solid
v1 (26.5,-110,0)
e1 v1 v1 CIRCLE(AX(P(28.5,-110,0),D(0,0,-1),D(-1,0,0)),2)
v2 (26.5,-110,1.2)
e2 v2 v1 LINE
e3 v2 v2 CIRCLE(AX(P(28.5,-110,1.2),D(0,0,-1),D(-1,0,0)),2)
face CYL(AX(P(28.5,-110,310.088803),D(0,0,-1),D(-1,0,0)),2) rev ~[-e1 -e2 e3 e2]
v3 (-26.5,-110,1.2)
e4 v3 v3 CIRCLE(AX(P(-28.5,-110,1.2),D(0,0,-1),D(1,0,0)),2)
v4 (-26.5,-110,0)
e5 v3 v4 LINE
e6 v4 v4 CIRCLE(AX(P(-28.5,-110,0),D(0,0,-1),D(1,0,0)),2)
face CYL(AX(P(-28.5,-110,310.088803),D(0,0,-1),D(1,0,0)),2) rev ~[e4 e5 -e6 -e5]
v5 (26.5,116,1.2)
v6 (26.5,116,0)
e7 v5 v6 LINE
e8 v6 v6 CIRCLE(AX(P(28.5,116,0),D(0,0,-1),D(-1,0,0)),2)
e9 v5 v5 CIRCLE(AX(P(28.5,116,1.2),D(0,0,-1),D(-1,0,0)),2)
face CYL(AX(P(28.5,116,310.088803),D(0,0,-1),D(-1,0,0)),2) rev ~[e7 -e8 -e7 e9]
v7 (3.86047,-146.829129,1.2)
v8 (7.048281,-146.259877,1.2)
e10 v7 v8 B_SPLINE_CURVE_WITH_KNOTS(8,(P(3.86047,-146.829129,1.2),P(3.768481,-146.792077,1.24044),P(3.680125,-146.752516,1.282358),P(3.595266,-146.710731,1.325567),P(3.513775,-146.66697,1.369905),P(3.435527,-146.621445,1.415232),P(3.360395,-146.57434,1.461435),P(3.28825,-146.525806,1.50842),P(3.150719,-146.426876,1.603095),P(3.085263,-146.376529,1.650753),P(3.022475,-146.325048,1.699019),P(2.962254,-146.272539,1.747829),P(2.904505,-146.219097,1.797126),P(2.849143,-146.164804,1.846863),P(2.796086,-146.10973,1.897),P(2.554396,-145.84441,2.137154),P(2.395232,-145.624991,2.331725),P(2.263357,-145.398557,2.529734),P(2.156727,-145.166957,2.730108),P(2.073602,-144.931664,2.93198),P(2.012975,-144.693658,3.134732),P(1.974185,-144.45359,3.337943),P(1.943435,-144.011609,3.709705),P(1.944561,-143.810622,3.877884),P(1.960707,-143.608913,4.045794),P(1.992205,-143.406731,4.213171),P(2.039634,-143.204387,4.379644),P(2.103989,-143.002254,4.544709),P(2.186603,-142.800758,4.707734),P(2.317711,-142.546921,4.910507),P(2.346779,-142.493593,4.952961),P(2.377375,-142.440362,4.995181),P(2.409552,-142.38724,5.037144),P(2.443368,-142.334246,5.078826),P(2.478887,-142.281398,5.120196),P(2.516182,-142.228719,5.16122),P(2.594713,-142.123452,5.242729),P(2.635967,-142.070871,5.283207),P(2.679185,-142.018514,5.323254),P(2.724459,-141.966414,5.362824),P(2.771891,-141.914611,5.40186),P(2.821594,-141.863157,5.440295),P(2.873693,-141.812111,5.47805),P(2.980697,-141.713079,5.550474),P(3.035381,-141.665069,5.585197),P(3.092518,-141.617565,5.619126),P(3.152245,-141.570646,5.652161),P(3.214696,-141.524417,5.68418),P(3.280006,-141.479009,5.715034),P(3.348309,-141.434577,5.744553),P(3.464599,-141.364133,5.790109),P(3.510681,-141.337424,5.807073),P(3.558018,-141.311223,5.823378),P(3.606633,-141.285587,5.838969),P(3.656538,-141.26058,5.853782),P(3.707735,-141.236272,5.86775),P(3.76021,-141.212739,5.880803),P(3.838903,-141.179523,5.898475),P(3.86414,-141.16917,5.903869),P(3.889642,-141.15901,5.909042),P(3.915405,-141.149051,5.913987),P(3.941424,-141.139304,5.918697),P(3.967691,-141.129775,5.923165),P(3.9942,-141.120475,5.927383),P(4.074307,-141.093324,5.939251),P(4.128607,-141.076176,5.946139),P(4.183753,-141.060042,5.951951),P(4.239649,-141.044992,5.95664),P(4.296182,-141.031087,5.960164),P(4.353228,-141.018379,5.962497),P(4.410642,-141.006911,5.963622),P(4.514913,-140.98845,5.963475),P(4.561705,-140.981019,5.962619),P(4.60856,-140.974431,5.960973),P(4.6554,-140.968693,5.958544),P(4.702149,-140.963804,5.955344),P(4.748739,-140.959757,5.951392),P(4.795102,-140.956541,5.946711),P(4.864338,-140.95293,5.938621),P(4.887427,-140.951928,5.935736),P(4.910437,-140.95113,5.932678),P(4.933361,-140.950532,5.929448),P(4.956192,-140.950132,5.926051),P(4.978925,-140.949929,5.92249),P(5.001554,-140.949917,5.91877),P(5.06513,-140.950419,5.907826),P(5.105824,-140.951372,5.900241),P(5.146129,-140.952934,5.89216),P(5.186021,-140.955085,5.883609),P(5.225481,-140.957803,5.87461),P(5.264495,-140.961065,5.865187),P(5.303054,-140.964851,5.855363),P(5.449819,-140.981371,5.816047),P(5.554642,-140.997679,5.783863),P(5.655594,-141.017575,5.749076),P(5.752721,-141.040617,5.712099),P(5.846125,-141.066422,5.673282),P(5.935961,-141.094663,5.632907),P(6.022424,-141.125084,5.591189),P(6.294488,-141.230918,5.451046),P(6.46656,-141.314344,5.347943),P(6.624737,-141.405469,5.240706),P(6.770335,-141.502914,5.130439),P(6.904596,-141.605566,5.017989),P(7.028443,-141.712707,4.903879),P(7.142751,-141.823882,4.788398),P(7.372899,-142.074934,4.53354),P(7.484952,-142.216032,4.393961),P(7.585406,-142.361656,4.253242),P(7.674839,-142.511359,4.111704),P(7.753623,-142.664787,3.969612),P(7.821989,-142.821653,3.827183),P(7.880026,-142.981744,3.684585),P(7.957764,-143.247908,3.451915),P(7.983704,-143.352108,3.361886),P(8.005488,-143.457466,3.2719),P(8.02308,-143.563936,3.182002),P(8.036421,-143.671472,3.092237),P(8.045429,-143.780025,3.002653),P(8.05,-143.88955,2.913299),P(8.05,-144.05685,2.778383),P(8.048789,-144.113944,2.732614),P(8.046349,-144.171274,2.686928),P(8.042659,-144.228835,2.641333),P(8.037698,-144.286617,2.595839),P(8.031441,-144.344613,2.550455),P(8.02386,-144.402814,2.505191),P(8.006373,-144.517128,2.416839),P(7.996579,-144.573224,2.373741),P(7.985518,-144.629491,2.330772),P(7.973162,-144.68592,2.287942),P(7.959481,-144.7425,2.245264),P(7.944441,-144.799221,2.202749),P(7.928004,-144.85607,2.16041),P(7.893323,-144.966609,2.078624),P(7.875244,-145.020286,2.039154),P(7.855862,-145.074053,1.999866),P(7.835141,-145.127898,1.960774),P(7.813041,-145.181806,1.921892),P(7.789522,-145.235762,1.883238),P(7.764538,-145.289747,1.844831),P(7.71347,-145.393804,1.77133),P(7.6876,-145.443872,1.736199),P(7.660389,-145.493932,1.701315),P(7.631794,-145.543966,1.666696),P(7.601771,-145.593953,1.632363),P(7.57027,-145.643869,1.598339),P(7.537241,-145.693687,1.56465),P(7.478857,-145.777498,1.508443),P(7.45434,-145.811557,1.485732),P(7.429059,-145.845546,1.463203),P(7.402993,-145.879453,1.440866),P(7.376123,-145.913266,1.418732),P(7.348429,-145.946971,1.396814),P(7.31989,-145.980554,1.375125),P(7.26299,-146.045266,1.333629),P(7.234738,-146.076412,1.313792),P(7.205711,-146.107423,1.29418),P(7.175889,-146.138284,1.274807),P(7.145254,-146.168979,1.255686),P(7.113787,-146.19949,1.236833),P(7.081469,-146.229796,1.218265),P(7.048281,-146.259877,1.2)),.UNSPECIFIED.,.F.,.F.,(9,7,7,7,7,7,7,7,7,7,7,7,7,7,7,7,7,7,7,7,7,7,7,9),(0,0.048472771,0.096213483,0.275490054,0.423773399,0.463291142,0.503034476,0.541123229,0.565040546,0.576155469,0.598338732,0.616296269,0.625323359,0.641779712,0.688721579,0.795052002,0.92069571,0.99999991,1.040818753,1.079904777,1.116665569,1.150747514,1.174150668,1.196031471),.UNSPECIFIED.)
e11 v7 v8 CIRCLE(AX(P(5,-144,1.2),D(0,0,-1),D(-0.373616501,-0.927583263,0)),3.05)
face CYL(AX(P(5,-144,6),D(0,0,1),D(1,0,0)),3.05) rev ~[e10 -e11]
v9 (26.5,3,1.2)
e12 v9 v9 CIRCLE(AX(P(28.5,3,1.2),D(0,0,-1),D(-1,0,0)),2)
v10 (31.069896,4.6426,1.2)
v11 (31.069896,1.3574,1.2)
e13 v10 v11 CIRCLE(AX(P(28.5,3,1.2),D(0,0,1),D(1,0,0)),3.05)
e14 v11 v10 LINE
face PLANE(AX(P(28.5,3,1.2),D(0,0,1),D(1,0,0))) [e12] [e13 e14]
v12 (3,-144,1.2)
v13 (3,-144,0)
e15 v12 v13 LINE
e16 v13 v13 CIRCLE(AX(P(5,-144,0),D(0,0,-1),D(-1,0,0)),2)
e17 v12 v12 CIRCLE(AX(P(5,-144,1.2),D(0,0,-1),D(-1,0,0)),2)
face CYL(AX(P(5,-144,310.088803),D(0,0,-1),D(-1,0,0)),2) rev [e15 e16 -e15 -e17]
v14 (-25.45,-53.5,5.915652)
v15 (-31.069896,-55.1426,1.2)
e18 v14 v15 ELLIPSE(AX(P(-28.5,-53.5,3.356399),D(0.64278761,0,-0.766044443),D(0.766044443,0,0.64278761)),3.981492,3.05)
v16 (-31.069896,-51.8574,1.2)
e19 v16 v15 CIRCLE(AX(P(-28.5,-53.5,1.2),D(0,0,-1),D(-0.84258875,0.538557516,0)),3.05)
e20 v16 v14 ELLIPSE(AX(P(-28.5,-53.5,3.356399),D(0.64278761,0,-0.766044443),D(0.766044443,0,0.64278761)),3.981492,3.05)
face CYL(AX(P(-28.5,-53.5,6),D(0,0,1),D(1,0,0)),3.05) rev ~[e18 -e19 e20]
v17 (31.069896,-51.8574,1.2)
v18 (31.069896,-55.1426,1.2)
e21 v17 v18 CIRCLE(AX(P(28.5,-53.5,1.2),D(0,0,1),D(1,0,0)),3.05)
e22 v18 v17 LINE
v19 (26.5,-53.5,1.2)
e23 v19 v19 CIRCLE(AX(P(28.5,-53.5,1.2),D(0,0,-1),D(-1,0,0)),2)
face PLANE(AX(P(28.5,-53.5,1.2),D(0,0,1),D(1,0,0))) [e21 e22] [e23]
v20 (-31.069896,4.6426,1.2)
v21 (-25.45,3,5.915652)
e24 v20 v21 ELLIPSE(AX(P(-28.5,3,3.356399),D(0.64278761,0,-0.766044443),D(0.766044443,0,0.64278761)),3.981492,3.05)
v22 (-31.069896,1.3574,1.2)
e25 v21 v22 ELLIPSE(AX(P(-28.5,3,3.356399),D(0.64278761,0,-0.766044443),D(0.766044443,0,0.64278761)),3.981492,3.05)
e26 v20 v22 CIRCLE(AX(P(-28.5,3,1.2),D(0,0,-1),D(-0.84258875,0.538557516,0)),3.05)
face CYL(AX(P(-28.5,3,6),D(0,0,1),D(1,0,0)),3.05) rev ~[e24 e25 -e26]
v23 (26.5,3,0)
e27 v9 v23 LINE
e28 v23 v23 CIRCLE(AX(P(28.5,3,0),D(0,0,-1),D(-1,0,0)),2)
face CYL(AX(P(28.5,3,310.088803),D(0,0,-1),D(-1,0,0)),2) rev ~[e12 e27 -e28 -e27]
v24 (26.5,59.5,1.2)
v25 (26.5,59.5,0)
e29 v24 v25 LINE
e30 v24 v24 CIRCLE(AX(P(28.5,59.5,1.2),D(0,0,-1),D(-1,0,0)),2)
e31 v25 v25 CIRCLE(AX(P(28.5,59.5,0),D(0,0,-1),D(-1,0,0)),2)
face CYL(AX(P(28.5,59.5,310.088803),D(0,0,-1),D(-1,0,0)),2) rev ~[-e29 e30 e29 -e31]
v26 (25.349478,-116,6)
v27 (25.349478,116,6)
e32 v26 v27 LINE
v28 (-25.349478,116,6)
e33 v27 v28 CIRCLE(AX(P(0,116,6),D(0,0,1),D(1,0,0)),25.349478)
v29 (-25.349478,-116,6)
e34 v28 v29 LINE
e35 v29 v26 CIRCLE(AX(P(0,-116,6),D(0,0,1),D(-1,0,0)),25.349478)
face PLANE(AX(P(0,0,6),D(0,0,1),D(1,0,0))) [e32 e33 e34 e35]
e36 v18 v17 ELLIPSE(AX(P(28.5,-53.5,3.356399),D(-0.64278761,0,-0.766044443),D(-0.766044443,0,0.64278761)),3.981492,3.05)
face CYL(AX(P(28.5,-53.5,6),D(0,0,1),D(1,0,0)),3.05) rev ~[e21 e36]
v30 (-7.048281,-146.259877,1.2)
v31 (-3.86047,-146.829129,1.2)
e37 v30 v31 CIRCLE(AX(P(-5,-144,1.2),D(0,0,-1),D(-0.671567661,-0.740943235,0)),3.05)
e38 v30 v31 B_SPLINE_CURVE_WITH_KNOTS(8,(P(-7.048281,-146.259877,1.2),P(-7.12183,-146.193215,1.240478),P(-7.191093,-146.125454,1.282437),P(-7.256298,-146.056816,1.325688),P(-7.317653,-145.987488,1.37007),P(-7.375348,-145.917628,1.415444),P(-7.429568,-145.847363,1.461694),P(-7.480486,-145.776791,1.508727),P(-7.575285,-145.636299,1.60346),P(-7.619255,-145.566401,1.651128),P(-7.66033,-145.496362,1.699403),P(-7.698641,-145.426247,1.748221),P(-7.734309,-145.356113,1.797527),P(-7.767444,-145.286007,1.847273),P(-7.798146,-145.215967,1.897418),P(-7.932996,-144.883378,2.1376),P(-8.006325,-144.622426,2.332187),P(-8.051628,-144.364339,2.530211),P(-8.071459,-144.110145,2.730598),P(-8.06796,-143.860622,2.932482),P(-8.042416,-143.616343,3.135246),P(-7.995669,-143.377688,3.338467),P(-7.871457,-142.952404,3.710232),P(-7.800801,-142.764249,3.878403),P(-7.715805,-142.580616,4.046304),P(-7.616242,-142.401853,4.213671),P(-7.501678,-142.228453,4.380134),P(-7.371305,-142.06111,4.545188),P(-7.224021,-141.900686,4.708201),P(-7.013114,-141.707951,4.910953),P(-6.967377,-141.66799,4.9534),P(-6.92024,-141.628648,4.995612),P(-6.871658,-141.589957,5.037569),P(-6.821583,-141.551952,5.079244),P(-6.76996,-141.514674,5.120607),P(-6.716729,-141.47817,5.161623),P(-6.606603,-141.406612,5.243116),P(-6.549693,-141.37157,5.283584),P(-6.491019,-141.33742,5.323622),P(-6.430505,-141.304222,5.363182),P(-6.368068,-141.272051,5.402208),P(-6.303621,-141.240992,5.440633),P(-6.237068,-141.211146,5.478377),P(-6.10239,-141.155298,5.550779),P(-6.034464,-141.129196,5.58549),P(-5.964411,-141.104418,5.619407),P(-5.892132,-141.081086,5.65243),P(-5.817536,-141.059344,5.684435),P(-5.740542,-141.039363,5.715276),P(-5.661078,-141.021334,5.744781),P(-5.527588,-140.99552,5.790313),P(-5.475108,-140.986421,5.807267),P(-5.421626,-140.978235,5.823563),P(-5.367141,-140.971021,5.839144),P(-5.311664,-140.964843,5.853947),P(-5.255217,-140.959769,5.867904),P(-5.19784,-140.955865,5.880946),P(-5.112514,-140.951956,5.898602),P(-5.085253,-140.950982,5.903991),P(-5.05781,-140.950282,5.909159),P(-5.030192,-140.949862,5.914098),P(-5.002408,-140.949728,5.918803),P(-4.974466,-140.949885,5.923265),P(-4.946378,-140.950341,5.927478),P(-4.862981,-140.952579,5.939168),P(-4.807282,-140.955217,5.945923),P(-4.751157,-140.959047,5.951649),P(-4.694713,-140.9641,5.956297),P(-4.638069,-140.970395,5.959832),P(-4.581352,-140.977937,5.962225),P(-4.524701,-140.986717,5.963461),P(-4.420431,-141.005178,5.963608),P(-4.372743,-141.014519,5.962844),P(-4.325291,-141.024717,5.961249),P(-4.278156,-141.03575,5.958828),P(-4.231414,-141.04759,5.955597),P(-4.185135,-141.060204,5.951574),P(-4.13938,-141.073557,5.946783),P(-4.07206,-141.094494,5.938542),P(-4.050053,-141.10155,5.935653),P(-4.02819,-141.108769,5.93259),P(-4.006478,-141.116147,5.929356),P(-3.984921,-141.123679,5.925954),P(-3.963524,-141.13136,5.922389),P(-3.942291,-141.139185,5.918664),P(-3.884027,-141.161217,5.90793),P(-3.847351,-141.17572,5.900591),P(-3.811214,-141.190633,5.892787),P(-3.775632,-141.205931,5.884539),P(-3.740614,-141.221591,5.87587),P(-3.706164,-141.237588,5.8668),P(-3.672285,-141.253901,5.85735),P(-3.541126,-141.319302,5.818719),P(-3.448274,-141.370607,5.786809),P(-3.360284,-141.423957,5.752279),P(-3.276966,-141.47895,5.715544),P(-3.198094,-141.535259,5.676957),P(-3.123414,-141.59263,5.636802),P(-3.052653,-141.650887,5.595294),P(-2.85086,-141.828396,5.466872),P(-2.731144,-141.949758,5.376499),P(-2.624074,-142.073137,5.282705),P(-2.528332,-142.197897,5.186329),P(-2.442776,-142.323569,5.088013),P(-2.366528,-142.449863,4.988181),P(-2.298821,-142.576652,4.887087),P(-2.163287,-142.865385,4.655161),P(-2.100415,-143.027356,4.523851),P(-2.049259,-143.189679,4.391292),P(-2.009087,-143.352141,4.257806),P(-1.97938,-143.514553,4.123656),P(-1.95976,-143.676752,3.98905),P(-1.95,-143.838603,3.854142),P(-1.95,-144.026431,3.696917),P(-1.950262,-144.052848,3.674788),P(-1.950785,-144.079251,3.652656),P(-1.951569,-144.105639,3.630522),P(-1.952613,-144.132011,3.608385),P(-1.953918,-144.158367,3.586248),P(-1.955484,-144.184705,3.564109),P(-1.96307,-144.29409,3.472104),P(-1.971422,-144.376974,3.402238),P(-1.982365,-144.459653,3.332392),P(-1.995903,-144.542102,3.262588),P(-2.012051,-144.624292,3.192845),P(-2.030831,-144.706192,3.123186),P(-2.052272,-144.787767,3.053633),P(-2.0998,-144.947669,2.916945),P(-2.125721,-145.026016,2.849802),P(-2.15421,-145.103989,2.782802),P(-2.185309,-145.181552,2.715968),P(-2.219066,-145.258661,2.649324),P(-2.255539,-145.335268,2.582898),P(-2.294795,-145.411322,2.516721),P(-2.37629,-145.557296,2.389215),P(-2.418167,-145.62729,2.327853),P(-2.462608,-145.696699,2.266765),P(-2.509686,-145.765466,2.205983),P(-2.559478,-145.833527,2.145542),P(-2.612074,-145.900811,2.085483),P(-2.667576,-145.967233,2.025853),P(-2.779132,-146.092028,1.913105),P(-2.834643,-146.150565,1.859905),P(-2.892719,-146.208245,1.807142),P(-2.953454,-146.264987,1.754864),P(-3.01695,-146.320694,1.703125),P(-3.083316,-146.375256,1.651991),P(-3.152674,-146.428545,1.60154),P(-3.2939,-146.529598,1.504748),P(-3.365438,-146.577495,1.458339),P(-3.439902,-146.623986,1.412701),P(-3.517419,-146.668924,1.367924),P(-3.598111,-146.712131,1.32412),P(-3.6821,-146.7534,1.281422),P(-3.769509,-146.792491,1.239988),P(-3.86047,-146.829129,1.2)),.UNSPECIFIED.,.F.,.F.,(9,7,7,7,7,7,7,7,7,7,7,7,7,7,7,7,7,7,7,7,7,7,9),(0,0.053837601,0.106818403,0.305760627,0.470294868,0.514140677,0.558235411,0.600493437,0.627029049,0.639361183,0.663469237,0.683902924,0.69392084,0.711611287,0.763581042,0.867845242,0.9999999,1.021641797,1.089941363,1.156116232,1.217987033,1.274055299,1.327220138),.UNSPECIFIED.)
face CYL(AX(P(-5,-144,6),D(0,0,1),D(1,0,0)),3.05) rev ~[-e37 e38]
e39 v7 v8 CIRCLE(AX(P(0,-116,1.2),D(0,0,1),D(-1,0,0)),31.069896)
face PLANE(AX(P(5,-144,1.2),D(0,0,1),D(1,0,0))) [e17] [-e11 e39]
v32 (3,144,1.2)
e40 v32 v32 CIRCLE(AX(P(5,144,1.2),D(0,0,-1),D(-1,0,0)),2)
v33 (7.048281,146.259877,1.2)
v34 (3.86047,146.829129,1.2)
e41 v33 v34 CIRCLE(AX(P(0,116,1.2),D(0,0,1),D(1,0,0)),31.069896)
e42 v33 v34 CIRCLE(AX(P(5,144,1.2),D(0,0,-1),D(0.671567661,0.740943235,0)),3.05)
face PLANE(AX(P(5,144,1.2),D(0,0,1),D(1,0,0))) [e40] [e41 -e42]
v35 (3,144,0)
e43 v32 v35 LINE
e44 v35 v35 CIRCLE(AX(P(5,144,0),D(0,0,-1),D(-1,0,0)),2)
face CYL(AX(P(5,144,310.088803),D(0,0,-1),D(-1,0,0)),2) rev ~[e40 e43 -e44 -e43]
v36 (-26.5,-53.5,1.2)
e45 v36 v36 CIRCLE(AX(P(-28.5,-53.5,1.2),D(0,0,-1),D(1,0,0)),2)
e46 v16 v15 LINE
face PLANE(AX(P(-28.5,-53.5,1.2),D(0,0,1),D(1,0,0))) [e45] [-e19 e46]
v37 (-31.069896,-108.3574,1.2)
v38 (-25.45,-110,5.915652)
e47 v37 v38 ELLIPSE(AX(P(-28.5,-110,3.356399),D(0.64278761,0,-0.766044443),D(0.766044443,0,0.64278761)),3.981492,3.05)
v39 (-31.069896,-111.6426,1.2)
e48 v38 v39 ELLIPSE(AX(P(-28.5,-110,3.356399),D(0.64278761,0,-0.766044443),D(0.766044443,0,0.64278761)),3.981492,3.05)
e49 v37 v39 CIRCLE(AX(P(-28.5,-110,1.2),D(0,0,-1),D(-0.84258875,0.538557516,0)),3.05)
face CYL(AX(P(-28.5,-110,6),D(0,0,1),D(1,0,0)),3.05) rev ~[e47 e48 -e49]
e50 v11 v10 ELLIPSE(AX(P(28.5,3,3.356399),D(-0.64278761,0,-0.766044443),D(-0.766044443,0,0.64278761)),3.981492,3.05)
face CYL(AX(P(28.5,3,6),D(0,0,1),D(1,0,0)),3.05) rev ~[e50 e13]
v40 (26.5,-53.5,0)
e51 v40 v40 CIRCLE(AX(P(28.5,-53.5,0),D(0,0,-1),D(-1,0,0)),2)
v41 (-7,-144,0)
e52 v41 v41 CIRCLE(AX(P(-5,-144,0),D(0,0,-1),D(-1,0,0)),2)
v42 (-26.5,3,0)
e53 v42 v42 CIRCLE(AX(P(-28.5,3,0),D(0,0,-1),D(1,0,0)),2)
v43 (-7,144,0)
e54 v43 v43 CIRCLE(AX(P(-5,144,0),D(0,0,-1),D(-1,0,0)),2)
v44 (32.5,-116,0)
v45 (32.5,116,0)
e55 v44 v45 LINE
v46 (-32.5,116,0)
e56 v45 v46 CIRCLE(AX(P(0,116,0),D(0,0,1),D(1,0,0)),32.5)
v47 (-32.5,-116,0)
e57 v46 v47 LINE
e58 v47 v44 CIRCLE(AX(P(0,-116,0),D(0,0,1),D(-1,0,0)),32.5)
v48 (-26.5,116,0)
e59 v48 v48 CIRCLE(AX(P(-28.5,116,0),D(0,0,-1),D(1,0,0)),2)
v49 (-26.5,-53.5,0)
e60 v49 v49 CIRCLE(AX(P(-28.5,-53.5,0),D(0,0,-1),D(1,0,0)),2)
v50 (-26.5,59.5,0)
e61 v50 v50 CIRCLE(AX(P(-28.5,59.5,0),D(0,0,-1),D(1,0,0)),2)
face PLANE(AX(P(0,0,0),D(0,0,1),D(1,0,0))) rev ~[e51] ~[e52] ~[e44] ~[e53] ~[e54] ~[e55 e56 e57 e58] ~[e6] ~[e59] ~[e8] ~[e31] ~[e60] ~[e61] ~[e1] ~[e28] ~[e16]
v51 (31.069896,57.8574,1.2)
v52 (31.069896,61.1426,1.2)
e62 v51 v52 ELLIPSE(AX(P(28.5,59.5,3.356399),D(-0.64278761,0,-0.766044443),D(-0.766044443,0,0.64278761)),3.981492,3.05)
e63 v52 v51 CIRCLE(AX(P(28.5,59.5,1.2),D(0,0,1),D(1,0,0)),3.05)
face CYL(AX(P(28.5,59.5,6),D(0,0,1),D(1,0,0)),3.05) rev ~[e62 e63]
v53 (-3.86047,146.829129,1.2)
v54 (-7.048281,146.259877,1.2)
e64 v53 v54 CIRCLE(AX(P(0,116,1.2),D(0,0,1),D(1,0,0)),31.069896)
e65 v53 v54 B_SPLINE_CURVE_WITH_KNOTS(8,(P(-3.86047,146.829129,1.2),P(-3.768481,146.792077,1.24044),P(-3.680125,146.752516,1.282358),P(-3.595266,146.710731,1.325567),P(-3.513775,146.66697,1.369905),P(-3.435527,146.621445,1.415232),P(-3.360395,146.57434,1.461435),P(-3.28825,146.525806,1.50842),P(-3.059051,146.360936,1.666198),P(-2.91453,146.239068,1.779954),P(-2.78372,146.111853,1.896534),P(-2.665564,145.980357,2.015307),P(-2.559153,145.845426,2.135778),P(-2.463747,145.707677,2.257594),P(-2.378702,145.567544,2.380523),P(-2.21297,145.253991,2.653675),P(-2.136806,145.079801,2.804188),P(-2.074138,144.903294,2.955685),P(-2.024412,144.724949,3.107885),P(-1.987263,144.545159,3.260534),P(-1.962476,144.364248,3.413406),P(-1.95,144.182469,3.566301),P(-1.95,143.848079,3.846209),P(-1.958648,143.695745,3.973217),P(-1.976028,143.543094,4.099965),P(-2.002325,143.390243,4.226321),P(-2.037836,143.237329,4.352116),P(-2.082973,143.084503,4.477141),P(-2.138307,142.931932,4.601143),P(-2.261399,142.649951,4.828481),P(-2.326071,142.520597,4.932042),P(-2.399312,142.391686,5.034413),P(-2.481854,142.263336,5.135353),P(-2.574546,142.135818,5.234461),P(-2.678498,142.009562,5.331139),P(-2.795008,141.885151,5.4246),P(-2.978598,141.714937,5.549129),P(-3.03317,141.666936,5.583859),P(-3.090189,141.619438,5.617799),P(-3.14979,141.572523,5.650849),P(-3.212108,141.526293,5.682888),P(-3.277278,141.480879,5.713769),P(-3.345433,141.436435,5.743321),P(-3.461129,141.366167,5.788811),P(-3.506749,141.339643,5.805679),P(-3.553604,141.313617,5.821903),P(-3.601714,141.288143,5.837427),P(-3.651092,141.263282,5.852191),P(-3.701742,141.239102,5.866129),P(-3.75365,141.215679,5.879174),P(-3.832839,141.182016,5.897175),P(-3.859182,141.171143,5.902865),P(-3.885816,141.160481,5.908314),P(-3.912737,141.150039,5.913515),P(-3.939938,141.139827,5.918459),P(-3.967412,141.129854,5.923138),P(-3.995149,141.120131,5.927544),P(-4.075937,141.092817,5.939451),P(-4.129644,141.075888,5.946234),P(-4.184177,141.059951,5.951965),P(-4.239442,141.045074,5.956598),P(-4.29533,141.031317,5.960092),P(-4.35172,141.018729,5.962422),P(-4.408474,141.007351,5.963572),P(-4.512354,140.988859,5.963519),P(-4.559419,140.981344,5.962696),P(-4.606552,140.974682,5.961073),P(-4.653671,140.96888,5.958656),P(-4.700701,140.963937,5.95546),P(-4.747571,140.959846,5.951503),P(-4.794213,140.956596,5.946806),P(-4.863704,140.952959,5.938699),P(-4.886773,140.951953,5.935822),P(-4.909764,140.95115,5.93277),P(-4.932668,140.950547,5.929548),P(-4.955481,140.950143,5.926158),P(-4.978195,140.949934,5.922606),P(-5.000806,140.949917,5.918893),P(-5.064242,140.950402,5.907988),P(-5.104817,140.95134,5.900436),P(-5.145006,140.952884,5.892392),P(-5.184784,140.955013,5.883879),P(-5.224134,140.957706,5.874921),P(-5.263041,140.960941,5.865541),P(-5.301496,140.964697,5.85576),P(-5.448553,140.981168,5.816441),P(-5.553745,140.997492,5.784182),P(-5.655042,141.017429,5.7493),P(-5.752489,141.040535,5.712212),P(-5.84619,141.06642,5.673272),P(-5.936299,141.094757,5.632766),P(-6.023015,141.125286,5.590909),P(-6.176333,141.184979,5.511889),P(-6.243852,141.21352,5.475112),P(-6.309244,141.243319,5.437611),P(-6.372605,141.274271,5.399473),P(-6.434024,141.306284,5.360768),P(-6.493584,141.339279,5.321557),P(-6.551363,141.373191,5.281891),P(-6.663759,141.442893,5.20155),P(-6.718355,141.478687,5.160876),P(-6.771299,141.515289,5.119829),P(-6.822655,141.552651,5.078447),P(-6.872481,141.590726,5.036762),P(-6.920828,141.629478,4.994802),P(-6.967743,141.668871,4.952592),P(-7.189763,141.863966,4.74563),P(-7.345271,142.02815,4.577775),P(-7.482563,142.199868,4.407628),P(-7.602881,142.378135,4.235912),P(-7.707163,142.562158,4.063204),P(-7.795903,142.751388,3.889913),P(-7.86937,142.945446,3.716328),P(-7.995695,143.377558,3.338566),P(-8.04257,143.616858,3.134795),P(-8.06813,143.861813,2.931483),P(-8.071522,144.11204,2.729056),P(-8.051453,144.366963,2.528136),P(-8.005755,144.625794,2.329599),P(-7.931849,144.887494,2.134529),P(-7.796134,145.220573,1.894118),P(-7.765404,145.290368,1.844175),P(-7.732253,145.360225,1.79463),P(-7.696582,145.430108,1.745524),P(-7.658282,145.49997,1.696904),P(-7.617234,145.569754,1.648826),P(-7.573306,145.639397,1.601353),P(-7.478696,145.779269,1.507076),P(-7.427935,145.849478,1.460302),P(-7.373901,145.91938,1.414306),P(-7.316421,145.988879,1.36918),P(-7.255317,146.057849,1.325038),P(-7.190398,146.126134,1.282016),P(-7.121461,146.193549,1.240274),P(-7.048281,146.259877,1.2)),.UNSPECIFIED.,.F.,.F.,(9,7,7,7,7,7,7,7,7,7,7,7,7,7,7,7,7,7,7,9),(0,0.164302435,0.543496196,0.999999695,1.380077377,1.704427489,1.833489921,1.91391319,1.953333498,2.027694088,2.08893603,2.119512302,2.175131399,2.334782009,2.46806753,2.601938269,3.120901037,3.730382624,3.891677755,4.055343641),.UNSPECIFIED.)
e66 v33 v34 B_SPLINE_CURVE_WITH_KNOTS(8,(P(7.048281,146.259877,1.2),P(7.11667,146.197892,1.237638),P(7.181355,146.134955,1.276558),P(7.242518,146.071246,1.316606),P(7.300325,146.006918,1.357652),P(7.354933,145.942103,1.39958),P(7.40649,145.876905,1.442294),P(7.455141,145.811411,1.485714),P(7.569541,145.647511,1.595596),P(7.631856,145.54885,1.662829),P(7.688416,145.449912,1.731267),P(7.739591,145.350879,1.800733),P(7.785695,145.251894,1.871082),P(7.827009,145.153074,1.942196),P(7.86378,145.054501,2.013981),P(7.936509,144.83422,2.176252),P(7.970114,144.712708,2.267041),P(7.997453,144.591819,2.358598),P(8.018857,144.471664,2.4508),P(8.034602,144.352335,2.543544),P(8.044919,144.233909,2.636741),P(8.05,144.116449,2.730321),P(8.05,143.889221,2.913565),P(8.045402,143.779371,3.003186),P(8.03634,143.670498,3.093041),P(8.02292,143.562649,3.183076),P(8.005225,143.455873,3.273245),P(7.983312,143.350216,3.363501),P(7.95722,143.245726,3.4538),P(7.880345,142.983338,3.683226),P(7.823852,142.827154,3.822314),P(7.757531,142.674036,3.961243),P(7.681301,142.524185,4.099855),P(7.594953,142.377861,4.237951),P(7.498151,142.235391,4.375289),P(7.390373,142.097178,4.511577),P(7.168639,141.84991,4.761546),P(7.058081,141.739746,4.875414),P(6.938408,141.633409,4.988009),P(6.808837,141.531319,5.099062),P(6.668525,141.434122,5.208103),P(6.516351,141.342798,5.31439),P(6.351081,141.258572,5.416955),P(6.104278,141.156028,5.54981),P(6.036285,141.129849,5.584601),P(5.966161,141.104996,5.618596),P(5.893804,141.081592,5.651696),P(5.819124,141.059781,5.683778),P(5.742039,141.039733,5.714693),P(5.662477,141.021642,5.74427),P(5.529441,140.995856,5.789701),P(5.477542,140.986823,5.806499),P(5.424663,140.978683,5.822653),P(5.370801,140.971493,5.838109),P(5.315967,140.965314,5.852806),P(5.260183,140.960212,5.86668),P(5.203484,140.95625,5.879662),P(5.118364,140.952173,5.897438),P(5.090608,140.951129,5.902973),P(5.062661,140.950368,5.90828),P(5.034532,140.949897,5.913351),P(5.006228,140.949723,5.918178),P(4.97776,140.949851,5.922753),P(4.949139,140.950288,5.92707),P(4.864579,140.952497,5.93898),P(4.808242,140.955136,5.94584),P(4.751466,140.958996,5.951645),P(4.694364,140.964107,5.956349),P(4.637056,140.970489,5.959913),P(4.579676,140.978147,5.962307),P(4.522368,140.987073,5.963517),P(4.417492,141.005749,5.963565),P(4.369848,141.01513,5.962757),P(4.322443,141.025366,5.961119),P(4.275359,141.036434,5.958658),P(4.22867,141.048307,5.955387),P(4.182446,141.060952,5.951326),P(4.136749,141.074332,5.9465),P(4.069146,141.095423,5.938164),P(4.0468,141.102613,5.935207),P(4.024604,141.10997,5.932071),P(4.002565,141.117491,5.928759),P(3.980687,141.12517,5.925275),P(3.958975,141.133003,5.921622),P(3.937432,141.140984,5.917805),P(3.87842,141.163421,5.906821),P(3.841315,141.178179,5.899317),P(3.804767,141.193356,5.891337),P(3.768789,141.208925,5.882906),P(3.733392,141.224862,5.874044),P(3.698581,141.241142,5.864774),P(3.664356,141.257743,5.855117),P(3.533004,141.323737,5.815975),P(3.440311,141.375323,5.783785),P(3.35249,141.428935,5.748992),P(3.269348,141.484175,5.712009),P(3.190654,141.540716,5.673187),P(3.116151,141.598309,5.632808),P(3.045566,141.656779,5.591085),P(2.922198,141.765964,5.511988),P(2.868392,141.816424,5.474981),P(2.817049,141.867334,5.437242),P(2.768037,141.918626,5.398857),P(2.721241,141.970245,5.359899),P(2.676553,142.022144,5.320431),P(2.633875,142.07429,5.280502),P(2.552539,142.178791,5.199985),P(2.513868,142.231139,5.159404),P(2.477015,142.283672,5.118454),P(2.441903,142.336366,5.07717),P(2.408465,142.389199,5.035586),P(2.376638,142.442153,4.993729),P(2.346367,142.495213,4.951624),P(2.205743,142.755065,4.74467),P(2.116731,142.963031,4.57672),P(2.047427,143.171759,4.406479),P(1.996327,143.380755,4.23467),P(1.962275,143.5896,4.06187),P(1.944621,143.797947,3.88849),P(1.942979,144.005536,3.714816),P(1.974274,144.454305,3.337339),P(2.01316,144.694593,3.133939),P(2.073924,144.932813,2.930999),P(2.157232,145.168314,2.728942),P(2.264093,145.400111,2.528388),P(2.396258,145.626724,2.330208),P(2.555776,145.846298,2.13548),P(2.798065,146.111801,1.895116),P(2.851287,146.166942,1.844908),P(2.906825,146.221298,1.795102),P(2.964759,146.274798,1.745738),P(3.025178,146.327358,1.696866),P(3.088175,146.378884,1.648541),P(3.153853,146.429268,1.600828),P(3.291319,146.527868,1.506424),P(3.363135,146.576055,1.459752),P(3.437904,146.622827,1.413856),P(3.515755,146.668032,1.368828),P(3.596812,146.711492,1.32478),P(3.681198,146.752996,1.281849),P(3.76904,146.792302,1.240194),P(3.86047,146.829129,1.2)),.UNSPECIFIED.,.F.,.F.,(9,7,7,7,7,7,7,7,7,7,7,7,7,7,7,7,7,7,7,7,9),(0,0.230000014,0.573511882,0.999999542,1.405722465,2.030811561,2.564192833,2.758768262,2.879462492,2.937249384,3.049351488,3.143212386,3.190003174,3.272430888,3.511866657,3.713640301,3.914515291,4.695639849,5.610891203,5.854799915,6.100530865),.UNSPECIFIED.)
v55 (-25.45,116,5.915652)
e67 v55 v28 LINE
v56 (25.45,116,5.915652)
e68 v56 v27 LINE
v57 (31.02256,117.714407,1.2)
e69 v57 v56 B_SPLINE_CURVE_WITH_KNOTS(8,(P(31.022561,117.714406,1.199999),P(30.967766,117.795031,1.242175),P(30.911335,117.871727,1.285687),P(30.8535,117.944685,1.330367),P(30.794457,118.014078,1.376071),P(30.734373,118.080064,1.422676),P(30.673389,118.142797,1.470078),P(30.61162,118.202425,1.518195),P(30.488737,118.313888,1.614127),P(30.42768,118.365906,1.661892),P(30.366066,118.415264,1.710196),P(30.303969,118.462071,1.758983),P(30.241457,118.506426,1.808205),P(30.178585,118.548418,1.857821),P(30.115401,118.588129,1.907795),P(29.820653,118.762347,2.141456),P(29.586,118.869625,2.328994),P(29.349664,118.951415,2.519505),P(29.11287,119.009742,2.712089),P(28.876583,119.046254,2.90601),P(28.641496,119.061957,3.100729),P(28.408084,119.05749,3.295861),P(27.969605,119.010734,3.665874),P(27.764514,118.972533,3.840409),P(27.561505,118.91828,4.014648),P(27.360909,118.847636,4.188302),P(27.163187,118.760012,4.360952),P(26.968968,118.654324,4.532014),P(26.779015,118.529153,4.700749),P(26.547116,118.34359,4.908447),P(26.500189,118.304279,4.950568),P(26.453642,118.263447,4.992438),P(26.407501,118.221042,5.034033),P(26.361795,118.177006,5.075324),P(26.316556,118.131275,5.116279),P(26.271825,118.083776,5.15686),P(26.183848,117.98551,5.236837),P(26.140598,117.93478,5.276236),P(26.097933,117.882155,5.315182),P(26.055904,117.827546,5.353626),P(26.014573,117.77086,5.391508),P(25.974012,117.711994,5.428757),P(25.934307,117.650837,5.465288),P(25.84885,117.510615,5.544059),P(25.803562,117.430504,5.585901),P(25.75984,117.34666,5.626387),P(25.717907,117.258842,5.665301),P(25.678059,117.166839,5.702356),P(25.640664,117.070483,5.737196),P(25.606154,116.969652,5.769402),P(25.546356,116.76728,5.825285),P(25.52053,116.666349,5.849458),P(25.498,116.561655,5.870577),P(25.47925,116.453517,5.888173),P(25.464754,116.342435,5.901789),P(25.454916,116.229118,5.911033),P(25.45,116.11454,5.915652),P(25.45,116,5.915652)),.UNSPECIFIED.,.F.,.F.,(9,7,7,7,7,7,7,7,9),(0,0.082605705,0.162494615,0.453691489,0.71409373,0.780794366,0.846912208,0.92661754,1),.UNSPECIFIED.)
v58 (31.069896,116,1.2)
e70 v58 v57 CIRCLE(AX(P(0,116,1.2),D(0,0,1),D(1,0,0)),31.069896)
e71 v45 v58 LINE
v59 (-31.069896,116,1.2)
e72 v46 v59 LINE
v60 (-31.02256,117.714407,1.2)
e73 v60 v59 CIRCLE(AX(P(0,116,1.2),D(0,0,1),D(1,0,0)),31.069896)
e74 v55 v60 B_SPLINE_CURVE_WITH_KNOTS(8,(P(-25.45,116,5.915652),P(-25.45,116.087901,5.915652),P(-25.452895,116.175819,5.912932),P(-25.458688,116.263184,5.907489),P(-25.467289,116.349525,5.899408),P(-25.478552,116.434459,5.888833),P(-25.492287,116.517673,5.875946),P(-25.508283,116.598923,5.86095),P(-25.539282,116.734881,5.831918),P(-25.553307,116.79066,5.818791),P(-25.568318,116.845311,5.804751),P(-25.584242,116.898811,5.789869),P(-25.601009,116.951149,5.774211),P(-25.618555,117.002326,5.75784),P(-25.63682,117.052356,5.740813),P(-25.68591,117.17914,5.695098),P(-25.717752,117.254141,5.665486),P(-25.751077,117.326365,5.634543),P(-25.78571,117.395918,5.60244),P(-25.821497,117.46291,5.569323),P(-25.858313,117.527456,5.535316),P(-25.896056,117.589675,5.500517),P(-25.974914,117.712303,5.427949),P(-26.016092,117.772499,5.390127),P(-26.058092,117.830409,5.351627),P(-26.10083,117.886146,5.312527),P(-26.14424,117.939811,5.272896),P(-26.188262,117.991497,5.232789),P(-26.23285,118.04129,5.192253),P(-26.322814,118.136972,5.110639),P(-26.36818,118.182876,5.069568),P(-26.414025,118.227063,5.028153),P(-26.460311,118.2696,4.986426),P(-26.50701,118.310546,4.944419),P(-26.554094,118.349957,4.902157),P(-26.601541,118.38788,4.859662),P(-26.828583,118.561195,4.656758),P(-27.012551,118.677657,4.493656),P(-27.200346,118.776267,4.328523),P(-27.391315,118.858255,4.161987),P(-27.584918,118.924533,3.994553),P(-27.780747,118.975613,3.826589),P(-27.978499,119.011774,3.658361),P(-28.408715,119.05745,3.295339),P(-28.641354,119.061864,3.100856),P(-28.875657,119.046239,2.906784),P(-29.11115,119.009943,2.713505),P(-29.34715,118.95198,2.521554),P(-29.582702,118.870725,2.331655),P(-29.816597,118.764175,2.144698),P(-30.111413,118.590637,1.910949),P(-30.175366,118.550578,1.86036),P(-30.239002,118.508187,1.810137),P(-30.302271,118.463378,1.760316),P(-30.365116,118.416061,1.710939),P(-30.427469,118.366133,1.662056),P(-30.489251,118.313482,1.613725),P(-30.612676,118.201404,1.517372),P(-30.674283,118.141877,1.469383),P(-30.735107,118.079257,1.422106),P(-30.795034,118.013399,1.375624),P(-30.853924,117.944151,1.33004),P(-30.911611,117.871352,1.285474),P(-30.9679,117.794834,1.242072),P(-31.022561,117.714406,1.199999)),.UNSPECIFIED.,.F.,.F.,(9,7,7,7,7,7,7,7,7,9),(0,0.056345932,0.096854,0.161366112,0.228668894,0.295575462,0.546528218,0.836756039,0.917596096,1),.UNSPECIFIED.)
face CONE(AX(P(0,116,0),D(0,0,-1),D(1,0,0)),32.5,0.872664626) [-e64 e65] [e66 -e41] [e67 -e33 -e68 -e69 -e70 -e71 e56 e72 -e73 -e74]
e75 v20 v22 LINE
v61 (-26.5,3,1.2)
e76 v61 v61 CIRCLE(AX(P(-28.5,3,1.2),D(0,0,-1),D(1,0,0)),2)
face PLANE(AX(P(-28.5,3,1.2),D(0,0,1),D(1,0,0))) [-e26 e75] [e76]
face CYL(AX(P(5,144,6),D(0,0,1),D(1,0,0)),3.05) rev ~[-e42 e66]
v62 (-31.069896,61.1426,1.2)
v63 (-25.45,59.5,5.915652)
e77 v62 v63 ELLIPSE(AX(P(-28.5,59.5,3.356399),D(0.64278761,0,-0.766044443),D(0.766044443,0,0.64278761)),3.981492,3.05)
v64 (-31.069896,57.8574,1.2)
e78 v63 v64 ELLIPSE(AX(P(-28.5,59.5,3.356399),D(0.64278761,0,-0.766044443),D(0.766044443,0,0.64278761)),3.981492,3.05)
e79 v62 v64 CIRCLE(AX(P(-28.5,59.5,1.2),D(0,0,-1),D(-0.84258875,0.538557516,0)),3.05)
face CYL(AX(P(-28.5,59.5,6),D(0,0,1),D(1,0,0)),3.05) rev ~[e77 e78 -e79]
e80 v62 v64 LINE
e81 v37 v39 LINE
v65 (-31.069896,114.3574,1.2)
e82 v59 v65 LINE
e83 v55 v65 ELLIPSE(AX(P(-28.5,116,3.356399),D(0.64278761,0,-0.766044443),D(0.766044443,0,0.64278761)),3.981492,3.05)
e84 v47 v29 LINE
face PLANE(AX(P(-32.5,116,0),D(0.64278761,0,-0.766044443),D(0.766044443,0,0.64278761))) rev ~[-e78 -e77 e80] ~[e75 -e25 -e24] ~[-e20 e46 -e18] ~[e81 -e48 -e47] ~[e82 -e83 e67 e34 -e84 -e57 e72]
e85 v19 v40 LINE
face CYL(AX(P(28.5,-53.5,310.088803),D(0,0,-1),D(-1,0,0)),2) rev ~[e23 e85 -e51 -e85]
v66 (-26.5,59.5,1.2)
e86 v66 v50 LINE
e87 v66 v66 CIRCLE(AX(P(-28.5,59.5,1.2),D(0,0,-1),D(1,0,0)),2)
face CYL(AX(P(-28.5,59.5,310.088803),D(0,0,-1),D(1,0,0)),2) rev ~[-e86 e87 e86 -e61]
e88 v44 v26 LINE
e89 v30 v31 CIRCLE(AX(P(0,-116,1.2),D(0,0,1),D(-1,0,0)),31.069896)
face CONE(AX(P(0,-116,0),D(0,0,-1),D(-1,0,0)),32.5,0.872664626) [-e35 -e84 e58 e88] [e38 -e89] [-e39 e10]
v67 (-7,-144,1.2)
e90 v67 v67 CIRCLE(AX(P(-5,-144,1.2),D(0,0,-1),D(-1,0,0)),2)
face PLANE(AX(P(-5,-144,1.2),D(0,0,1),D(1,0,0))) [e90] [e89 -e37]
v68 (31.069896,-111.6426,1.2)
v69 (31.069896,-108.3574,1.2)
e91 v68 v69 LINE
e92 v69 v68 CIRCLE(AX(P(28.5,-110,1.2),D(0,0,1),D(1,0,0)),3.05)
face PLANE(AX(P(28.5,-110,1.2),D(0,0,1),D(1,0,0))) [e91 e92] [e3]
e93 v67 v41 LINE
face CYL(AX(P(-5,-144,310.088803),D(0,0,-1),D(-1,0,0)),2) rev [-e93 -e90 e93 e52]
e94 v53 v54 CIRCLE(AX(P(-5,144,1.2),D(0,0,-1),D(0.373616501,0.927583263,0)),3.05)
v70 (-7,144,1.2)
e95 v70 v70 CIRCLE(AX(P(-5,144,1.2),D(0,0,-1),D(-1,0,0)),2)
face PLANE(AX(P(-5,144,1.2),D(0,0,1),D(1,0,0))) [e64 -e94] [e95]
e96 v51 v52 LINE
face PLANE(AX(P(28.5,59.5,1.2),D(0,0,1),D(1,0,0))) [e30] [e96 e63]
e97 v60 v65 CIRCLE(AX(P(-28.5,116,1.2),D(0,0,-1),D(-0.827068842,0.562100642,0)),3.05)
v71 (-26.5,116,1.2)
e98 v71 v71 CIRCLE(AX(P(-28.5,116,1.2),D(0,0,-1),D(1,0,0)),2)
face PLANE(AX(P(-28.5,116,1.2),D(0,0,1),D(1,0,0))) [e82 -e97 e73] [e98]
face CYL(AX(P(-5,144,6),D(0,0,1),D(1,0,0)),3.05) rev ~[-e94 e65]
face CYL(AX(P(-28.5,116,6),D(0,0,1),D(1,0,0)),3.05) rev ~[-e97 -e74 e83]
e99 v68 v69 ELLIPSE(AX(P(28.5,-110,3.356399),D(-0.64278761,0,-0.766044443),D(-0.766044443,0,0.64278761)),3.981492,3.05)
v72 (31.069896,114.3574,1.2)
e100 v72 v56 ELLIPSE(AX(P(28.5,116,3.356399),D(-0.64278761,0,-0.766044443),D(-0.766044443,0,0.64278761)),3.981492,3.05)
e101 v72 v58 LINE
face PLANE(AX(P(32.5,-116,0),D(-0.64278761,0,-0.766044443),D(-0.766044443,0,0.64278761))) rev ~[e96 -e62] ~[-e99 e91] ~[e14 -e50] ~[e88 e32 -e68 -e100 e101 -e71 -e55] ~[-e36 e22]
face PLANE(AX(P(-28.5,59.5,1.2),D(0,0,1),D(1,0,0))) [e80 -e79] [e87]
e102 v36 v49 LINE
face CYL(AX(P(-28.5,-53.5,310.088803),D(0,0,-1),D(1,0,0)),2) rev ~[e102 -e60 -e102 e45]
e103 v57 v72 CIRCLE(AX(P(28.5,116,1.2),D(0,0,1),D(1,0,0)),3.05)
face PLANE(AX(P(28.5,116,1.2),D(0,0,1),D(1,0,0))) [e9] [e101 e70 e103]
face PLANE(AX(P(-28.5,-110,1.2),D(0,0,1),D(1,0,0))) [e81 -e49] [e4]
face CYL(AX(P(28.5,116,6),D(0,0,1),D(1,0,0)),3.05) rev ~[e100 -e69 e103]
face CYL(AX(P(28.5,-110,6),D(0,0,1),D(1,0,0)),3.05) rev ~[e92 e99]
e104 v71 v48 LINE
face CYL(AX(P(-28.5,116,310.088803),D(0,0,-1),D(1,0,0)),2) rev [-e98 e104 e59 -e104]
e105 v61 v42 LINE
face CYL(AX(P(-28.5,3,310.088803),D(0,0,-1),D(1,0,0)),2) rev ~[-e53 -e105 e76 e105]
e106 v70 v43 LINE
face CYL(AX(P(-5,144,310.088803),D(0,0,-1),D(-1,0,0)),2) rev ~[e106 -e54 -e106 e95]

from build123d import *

# Parameters (mm, degrees)
BOSS_EXTRUDE1_DEPTH   = 6
BOSS_EXTRUDE1_TAPER   = 50
F_1_0MM_DOWEL_HOLE2_D = 4
F_4_0MM_DOWEL_HOLE1_D = 4
LPATTERN3_COUNT       = 5
LPATTERN3_PITCH       = 56.5
MIRROR2_COPY_1_D      = 4
MIRROR2_COPY_2_D      = 4
MIRROR2_COPY_3_D      = 4
MIRROR2_COPY_4_D      = 4
SKETCH8_R             = 3.05
CUT_EXTRUDE1_DEPTH    = 4.8


with BuildPart() as part:
    # Sketch1 → Boss-Extrude1 (new body)
    with BuildSketch(Plane.XY):
        with BuildLine():
            ThreePointArc((-32.5, -116), (0, -148.5), (32.5, -116))
            Line((32.5, -116), (32.5, 116))
            ThreePointArc((32.5, 116), (0, 148.5), (-32.5, 116))
            Line((-32.5, 116), (-32.5, -116))
        make_face()
    extrude(amount=BOSS_EXTRUDE1_DEPTH, taper=BOSS_EXTRUDE1_TAPER)

    # Ø1.0mm Dowel Hole2 (through all)
    with Locations(Plane.XY.offset(6)):
        with Locations((-5, 144), (5, 144)):
            f_1_0mm_dowel_hole2 = Hole(F_1_0MM_DOWEL_HOLE2_D / 2)

    # Mirror1: Ø1.0mm Dowel Hole2 across plane
    add(f_1_0mm_dowel_hole2.mirror(Plane.ZX), mode=Mode.SUBTRACT)

    # Ø4.0mm Dowel Hole1 (through all)
    with Locations(Plane.XY.offset(6)):
        with Locations((28.5, 116)):
            f_4_0mm_dowel_hole1 = Hole(F_4_0MM_DOWEL_HOLE1_D / 2)

    # LPattern3: Ø4.0mm Dowel Hole1 ×5
    with Locations(*[(0, -i * LPATTERN3_PITCH, 0) for i in range(1, LPATTERN3_COUNT)]):
        add(f_4_0mm_dowel_hole1, mode=Mode.SUBTRACT)

    # Mirror2: Ø4.0mm Dowel Hole1 across plane
    add(f_4_0mm_dowel_hole1.mirror(Plane(origin=(0, 0, 0), x_dir=(0, 0, 1), z_dir=(1, 0, 0))), mode=Mode.SUBTRACT)

    # Mirror2 copy 1 (through all)
    with Locations(Plane(origin=(0, -56.5, 6), x_dir=(-1, 0, 0), z_dir=(0, 0, 1))):
        with Locations((28.5, -116)):
            Hole(MIRROR2_COPY_1_D / 2)

    # Mirror2 copy 2 (through all)
    with Locations(Plane(origin=(0, -113, 6), x_dir=(-1, 0, 0), z_dir=(0, 0, 1))):
        with Locations((28.5, -116)):
            Hole(MIRROR2_COPY_2_D / 2)

    # Mirror2 copy 3 (through all)
    with Locations(Plane(origin=(0, -169.5, 6), x_dir=(-1, 0, 0), z_dir=(0, 0, 1))):
        with Locations((28.5, -116)):
            Hole(MIRROR2_COPY_3_D / 2)

    # Mirror2 copy 4 (through all)
    with Locations(Plane(origin=(0, -226, 6), x_dir=(-1, 0, 0), z_dir=(0, 0, 1))):
        with Locations((28.5, -116)):
            Hole(MIRROR2_COPY_4_D / 2)

    # Sketch8 → Cut-Extrude1 (cut)
    with BuildSketch(Plane.XY.offset(6)):
        with Locations((-28.5, 116)):
            Circle(SKETCH8_R)
        with Locations((-28.5, 59.5)):
            Circle(SKETCH8_R)
        with Locations((28.5, 59.5)):
            Circle(SKETCH8_R)
        with Locations((28.5, 116)):
            Circle(SKETCH8_R)
        with Locations((28.5, 3)):
            Circle(SKETCH8_R)
        with Locations((-28.5, 3)):
            Circle(SKETCH8_R)
        with Locations((28.5, -53.5)):
            Circle(SKETCH8_R)
        with Locations((-28.5, -53.5)):
            Circle(SKETCH8_R)
        with Locations((-28.5, -110)):
            Circle(SKETCH8_R)
        with Locations((28.5, -110)):
            Circle(SKETCH8_R)
        with Locations((5, -144)):
            Circle(SKETCH8_R)
        with Locations((-5, -144)):
            Circle(SKETCH8_R)
        with Locations((-5, 144)):
            Circle(SKETCH8_R)
        with Locations((5, 144)):
            Circle(SKETCH8_R)
    extrude(amount=-CUT_EXTRUDE1_DEPTH, mode=Mode.SUBTRACT)


solid = part.part
